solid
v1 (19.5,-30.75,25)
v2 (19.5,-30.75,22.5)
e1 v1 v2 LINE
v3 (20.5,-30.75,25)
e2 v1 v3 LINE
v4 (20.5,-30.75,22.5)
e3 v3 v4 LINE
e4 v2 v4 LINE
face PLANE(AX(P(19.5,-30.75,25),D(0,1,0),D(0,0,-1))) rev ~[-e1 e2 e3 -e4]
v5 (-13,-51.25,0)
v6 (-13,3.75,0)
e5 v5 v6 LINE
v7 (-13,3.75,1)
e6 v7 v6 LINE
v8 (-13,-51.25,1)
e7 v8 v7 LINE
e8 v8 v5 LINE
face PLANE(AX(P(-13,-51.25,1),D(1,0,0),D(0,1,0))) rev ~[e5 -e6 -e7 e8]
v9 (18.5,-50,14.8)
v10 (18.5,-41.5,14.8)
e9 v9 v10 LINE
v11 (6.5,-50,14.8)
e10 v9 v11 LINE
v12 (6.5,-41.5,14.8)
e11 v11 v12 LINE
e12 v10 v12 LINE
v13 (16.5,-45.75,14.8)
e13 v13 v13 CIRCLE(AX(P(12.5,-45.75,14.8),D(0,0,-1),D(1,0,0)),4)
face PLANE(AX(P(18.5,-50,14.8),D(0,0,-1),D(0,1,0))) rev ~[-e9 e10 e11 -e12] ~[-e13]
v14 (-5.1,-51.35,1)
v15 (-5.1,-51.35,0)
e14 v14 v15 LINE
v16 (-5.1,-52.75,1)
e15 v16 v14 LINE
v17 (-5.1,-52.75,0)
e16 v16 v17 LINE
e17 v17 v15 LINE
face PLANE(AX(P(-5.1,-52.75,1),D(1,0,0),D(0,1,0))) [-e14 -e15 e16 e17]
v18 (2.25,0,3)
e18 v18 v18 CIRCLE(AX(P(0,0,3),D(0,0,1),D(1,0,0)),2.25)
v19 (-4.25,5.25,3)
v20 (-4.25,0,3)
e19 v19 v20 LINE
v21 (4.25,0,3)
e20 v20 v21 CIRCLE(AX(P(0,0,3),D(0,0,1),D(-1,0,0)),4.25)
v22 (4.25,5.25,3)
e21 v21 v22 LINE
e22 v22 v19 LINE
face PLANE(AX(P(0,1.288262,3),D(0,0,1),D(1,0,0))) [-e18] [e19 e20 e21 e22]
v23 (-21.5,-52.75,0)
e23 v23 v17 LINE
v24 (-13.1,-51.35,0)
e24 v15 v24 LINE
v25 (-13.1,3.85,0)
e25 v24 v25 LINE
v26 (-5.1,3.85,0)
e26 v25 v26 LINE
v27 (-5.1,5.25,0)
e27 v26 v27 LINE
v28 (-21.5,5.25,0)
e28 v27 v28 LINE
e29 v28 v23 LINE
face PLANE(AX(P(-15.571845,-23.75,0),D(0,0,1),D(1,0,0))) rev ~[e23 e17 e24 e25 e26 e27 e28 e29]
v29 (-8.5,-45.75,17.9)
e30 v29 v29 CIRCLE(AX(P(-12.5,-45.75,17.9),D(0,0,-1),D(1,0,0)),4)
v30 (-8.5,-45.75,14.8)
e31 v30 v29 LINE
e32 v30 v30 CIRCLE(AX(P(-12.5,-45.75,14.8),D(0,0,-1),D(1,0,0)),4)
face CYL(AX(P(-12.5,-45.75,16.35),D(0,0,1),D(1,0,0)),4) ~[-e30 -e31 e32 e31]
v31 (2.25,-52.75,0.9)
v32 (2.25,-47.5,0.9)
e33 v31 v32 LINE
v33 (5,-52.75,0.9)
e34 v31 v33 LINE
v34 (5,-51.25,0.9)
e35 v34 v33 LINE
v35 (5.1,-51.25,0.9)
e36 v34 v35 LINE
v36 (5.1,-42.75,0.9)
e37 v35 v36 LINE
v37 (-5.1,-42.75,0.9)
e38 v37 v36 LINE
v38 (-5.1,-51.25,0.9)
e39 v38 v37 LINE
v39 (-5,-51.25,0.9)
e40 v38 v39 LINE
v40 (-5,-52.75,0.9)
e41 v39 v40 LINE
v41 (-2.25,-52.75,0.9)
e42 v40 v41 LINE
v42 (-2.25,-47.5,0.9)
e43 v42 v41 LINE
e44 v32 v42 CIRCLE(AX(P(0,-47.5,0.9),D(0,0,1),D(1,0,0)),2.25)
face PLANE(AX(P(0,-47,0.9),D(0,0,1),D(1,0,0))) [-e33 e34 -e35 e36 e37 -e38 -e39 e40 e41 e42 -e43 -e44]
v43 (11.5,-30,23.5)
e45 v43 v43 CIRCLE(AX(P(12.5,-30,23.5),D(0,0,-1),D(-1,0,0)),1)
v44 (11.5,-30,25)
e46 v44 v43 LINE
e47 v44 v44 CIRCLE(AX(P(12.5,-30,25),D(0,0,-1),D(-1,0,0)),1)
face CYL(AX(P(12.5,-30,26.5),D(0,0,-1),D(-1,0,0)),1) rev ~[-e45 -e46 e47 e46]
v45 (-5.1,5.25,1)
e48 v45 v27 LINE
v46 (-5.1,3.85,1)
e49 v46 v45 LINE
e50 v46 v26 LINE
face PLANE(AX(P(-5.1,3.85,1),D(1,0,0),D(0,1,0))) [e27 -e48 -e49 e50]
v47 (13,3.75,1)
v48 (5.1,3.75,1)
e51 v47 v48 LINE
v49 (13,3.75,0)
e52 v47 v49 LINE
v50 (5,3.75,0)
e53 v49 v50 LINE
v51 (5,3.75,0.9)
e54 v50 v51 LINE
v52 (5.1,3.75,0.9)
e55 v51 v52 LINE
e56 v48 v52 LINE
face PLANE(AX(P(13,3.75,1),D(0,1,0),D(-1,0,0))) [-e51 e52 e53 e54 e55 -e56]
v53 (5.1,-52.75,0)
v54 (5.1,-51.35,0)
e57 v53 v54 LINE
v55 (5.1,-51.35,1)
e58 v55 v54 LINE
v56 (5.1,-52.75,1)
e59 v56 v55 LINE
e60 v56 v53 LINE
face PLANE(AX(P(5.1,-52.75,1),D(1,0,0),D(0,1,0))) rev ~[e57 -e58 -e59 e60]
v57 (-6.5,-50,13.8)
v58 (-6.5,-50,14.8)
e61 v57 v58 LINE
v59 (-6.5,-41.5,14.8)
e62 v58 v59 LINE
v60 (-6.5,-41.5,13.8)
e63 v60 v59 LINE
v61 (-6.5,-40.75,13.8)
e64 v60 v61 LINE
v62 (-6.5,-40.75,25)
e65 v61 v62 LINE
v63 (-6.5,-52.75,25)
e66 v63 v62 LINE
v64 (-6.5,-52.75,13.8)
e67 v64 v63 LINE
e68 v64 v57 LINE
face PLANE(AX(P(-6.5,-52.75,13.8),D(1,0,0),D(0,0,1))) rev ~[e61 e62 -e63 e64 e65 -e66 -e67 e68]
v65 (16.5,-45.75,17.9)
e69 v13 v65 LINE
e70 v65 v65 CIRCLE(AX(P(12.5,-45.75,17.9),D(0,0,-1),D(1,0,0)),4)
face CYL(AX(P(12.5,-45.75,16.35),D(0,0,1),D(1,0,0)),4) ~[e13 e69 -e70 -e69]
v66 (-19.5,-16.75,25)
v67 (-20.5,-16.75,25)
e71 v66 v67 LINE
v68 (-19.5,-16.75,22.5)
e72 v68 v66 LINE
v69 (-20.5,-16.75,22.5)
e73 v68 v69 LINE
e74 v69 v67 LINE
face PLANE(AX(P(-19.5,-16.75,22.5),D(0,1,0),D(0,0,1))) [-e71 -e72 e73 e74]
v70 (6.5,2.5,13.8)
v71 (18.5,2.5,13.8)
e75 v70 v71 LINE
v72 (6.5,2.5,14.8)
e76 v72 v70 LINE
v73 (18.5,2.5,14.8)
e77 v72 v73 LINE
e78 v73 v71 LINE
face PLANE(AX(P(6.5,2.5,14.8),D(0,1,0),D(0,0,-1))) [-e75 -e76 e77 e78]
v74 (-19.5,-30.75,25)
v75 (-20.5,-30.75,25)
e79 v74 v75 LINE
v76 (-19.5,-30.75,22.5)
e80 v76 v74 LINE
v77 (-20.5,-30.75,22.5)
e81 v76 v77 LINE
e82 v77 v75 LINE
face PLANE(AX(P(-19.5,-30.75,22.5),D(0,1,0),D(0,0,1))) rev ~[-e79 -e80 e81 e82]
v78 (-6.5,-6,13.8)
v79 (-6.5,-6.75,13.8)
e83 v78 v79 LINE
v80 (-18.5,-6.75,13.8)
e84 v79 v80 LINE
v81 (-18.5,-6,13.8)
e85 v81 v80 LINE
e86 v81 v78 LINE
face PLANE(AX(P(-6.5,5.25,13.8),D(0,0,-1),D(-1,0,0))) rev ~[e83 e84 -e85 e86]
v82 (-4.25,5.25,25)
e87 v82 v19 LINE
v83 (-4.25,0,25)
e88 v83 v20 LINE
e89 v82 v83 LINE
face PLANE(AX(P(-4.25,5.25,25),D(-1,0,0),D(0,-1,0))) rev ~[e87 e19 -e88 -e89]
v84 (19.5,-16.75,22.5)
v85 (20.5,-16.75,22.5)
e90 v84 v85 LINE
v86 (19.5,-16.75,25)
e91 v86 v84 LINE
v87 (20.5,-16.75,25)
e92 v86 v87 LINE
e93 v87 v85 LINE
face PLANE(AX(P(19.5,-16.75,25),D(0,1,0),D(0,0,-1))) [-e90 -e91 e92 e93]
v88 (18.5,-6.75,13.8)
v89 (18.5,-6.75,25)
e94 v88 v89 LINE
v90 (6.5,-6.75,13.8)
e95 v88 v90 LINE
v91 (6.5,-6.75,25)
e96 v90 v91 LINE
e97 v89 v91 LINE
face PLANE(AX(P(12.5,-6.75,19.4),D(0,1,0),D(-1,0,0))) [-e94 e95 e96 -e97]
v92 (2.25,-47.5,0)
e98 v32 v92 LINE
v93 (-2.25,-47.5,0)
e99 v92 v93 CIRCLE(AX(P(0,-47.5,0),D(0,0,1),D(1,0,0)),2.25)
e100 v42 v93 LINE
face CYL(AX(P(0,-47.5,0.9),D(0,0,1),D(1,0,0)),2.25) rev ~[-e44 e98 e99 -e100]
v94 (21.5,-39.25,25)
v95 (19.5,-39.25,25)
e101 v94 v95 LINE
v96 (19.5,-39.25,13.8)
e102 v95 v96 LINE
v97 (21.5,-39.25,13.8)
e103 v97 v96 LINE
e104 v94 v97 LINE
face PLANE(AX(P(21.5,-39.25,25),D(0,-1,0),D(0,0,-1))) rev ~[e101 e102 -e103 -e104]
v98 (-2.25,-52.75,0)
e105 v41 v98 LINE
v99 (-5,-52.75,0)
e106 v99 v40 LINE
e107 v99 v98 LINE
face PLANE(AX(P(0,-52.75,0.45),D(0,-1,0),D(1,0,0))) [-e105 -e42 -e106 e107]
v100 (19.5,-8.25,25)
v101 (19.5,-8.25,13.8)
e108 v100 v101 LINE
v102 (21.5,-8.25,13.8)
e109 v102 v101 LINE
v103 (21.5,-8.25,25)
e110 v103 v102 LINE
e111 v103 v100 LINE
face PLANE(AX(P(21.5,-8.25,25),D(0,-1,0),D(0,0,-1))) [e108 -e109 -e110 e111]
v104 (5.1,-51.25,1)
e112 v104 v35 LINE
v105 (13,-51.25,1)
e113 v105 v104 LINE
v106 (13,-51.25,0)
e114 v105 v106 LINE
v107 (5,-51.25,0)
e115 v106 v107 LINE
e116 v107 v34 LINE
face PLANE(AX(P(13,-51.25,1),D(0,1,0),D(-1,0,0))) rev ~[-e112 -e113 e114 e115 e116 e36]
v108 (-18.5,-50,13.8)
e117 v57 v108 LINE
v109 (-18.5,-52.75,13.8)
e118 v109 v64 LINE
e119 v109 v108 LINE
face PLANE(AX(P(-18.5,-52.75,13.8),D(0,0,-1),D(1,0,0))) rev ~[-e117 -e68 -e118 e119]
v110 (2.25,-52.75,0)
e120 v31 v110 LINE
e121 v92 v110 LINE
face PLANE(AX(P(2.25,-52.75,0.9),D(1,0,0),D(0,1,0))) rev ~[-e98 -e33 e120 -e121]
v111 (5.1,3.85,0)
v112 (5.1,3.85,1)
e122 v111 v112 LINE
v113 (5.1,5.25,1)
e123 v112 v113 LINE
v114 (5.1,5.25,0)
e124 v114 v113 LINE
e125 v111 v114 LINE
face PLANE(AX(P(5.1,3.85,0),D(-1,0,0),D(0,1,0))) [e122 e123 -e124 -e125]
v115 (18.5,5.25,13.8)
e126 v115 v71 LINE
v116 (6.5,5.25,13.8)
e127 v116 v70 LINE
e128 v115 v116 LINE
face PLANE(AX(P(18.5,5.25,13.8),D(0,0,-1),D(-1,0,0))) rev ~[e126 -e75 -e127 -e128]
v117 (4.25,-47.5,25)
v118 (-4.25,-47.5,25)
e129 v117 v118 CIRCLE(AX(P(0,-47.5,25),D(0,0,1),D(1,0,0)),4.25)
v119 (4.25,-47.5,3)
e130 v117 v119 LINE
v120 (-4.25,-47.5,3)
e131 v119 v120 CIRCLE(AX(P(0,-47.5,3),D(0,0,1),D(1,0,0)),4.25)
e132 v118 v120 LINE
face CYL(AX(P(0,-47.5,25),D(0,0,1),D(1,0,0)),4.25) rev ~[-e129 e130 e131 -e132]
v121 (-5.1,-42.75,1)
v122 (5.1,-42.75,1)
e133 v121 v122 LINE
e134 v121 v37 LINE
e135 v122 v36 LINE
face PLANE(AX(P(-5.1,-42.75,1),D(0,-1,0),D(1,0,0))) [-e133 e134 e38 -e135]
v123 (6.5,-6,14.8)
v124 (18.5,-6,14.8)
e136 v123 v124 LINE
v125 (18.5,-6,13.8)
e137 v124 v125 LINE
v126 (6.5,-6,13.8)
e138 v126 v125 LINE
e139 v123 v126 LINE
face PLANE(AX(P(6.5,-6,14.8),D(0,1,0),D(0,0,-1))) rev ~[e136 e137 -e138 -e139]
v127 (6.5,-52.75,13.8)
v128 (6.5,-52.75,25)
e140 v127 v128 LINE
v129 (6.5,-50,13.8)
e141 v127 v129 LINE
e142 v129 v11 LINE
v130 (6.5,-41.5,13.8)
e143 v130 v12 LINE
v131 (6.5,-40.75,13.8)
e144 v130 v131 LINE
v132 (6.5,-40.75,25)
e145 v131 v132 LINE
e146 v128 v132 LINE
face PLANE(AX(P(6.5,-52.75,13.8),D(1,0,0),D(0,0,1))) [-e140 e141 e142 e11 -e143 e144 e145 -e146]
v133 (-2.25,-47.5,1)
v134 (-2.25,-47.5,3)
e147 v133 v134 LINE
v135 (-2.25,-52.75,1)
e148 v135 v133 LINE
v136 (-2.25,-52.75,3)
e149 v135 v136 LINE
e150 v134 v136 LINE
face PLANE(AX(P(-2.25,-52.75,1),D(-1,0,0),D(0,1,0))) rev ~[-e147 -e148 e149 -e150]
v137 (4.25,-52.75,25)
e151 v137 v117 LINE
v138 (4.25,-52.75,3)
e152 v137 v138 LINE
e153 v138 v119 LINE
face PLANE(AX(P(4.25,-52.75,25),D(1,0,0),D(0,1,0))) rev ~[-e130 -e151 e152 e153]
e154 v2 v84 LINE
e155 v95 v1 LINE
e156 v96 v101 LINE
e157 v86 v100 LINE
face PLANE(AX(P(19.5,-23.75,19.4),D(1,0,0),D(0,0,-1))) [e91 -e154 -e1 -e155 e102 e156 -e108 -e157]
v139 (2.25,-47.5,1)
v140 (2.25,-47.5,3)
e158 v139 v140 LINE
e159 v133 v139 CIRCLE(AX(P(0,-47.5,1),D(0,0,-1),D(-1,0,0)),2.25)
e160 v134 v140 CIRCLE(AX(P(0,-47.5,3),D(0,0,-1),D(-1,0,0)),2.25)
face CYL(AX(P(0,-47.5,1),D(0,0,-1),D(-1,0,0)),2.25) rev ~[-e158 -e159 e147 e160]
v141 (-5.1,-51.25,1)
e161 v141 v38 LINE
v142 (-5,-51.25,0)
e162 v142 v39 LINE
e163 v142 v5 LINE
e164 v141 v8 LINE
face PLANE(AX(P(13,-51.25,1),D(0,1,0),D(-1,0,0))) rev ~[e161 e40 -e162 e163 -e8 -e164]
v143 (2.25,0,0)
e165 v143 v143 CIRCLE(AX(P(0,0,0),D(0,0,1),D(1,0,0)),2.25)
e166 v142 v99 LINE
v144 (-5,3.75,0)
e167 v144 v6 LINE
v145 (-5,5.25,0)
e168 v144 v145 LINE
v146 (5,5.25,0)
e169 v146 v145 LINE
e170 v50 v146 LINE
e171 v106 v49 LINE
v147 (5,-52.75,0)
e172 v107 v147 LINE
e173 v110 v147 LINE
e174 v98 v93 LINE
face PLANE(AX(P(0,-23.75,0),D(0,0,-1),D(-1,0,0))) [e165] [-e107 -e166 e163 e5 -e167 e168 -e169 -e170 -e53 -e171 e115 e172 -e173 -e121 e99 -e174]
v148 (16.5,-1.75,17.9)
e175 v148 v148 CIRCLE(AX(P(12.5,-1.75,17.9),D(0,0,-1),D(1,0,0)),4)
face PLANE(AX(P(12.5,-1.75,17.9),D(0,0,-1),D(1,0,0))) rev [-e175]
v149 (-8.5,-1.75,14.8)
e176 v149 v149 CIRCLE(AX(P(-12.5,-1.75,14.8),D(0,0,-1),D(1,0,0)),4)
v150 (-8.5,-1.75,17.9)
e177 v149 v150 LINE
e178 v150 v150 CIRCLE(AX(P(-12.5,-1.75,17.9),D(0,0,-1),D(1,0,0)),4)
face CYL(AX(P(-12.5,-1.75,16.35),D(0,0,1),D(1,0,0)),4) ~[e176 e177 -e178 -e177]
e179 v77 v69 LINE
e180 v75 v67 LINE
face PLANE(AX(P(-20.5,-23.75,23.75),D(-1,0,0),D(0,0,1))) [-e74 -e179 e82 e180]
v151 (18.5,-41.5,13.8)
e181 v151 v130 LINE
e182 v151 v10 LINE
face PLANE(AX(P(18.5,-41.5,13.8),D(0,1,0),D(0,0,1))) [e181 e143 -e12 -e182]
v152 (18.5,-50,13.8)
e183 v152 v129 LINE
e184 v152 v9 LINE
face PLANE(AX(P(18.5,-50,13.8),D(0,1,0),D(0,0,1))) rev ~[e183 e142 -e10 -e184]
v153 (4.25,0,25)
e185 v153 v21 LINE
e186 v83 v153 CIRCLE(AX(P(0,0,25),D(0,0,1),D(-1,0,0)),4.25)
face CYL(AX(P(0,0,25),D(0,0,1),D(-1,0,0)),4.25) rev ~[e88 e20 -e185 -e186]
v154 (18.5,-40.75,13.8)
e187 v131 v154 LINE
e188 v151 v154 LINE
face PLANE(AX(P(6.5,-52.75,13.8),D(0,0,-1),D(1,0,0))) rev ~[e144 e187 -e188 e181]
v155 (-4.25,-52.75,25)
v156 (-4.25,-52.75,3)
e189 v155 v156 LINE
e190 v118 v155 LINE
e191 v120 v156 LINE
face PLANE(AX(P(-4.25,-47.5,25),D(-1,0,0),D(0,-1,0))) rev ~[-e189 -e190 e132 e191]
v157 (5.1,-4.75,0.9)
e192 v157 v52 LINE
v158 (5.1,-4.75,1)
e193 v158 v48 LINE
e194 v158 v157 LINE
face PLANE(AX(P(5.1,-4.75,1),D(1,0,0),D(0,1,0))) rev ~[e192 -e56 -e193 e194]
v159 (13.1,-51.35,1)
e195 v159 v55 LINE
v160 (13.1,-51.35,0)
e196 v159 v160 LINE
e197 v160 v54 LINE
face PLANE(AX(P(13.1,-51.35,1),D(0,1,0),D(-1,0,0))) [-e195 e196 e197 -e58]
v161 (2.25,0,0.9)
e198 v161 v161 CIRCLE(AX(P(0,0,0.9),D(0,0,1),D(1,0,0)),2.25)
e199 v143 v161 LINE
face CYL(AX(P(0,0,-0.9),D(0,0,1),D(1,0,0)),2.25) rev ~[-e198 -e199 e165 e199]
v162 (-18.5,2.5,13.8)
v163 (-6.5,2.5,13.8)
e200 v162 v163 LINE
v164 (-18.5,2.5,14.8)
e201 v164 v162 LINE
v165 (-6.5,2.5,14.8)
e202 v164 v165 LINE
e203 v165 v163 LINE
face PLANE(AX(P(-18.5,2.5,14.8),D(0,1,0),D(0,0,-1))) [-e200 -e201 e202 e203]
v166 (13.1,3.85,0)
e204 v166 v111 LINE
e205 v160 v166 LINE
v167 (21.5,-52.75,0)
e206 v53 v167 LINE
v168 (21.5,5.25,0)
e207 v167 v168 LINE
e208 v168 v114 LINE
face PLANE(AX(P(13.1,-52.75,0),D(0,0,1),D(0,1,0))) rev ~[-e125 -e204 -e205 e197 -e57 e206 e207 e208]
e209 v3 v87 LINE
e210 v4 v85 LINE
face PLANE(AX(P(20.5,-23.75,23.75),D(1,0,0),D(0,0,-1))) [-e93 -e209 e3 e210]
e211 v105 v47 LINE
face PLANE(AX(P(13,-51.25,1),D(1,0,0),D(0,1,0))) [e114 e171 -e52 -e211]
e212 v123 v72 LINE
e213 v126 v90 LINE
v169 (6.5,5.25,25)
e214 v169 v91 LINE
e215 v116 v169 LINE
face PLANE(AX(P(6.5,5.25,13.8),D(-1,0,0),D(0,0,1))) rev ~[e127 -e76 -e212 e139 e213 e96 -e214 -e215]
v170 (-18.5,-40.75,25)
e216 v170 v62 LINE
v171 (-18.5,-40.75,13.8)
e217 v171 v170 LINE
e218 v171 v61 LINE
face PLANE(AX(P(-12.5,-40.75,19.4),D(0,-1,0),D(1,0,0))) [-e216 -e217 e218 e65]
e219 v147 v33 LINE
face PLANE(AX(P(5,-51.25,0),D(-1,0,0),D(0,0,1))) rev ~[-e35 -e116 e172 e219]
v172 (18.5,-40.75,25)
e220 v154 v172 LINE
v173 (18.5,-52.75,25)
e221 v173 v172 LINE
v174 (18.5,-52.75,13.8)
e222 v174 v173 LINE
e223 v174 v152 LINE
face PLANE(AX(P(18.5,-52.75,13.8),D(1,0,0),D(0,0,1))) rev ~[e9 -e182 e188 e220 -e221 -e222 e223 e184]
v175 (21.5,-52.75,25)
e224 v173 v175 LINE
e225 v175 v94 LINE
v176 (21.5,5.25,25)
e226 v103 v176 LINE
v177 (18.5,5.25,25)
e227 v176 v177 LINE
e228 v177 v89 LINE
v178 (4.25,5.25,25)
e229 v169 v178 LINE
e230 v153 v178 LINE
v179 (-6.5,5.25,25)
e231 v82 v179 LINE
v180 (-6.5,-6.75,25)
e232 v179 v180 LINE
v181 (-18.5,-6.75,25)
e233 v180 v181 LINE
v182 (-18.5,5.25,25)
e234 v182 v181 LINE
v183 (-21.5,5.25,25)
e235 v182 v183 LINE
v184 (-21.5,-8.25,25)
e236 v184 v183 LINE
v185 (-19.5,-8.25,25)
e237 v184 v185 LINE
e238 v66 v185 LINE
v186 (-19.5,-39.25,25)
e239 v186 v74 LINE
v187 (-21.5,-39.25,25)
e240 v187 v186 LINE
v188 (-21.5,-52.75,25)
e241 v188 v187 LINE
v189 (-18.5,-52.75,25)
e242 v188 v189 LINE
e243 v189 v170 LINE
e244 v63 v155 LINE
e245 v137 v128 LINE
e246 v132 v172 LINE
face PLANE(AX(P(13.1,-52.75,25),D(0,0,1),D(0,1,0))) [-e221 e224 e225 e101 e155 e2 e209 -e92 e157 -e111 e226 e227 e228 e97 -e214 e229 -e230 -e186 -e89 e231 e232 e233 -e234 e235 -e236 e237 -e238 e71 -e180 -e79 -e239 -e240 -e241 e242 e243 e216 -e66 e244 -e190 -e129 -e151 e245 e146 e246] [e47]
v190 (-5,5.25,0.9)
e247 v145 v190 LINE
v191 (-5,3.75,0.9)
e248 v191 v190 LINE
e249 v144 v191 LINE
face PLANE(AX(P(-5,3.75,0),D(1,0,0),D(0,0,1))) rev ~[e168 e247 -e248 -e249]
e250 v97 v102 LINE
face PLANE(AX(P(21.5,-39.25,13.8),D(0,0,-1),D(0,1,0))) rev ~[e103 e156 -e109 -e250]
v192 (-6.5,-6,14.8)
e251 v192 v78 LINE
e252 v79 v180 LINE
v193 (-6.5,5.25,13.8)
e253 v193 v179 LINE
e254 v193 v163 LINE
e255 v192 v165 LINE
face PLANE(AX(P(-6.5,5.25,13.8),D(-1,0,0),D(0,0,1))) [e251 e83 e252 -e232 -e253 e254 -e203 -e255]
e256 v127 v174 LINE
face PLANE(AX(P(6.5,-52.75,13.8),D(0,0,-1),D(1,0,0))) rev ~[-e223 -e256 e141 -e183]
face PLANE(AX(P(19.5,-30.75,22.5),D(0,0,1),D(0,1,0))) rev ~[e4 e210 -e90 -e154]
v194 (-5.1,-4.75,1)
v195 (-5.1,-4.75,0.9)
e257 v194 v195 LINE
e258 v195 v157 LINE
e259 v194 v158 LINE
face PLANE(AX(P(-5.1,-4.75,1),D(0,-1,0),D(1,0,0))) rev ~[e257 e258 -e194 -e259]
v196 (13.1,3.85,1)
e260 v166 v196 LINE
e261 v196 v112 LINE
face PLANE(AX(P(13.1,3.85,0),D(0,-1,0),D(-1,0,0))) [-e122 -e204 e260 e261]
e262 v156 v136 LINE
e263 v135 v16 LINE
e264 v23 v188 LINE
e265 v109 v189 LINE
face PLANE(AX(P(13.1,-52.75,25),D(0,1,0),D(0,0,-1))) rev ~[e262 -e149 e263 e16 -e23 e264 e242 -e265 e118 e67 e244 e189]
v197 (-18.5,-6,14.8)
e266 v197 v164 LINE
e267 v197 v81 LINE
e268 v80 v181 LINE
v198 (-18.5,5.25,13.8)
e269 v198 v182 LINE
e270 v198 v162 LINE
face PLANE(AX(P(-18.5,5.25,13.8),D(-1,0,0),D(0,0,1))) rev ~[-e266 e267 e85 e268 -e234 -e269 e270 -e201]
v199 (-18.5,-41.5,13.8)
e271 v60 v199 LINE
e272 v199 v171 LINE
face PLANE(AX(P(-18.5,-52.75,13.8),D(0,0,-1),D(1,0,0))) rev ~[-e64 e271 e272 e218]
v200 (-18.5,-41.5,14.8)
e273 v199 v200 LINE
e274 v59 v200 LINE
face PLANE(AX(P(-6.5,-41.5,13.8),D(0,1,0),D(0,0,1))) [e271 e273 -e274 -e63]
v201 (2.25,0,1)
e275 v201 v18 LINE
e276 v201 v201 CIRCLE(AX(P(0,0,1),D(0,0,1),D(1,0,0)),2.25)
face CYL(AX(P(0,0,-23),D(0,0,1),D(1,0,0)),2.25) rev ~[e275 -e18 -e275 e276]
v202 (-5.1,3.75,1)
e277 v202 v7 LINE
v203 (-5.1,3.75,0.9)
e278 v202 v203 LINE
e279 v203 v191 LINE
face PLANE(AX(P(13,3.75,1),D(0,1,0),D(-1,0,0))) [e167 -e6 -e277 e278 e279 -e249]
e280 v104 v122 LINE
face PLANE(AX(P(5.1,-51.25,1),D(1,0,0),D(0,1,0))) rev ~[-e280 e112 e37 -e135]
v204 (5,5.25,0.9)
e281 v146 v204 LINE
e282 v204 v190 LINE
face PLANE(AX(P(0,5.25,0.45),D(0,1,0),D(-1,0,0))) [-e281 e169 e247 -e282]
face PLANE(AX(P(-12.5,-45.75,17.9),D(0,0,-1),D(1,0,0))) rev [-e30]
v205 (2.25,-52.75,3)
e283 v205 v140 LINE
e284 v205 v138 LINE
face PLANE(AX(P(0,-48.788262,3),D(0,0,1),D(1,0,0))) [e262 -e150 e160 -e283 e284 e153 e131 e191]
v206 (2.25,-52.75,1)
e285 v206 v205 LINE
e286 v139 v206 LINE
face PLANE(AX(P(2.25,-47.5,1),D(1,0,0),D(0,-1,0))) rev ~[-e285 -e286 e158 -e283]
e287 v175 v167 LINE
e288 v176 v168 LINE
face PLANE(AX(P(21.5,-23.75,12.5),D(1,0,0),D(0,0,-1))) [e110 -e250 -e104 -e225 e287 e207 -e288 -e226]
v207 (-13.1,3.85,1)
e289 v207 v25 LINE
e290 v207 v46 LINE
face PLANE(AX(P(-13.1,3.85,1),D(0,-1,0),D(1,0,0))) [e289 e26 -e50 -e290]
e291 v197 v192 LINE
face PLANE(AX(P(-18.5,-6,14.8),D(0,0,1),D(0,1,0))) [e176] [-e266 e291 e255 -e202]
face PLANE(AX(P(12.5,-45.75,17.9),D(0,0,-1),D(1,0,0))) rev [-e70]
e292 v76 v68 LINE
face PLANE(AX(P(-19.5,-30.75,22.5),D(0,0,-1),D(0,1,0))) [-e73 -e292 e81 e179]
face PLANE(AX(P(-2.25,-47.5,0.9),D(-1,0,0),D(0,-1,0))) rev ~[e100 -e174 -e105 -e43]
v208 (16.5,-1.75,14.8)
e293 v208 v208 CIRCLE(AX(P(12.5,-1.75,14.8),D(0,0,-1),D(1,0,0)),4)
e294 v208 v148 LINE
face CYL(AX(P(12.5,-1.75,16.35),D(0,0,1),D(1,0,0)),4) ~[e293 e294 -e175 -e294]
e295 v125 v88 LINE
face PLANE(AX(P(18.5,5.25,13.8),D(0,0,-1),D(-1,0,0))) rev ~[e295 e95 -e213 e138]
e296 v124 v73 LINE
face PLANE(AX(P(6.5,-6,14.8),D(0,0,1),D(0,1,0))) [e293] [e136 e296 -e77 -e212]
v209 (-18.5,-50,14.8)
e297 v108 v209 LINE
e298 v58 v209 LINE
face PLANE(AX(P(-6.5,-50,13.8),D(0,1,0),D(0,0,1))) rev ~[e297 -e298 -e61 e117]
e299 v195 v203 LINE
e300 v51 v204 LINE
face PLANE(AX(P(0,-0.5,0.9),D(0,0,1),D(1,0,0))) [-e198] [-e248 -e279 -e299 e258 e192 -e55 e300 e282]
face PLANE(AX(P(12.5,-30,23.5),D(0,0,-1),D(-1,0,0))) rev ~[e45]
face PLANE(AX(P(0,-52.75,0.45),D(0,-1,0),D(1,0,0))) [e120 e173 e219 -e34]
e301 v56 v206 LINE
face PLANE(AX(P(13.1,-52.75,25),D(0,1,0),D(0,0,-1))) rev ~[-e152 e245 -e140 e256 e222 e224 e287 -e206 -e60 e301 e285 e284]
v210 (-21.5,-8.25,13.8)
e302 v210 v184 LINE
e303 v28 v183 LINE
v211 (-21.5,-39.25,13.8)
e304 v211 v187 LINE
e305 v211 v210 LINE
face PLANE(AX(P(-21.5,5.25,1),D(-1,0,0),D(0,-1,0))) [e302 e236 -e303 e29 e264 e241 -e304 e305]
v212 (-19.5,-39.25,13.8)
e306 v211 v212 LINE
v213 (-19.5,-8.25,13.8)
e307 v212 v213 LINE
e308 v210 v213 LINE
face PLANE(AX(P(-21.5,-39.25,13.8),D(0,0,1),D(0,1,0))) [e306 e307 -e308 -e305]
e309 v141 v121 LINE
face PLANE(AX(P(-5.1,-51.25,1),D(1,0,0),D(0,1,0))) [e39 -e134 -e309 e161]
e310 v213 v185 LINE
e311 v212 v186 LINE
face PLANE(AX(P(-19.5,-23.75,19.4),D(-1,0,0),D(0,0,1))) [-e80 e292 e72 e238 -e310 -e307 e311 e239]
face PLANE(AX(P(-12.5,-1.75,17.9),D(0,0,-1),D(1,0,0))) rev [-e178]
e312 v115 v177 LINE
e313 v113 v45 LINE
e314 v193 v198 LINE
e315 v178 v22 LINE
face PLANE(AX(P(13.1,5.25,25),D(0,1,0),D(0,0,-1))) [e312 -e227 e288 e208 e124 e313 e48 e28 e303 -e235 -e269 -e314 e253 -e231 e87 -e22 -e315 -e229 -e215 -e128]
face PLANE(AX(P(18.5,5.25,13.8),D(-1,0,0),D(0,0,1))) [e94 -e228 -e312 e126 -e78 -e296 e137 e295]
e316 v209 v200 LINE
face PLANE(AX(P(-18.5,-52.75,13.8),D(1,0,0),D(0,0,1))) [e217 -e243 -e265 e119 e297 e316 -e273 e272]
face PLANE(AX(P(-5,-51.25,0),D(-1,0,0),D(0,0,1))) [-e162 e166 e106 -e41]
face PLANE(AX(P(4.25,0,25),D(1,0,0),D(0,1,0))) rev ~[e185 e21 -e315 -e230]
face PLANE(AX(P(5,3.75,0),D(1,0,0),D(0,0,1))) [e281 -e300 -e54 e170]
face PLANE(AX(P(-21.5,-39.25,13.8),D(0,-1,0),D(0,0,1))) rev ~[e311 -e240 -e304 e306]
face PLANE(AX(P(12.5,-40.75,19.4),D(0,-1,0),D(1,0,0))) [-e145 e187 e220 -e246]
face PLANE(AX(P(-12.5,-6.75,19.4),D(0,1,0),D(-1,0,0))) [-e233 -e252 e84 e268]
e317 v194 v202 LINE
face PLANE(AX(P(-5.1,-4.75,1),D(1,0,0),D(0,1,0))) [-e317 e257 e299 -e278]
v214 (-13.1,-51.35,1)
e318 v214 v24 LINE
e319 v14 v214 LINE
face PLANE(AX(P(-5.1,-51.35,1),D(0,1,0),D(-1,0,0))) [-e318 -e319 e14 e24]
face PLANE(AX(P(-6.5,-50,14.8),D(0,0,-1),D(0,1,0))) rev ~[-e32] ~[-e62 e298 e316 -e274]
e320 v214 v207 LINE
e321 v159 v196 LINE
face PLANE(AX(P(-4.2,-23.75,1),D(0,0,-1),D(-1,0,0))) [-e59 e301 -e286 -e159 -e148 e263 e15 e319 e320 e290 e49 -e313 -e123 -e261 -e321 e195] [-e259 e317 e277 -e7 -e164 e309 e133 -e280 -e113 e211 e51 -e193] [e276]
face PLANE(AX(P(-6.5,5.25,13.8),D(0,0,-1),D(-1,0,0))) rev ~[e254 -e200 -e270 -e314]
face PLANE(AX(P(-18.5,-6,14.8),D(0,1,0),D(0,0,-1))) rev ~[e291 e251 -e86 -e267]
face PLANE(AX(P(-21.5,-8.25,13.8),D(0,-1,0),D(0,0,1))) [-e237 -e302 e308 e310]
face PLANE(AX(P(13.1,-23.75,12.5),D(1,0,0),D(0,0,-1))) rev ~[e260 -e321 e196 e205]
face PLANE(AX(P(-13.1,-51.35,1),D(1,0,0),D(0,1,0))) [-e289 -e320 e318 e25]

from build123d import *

# Parameters (mm, degrees)
SKETCH1_W                      = 8
SKETCH1_H                      = 1.4
BOSS_EXTRUDE1_DEPTH            = 1
SKETCH2_W                      = 34.6
SKETCH2_H                      = 58
BOSS_EXTRUDE2_DEPTH            = 24
SKETCH3_W                      = 26
SKETCH3_H                      = 55
BOSS_EXTRUDE3_DEPTH            = 1
BOSS_EXTRUDE4_DEPTH            = 1
SKETCH5_W                      = 8
SKETCH5_H                      = 1.4
BOSS_EXTRUDE5_DEPTH            = 1
SKETCH6_W                      = 10.2
SKETCH6_H                      = 8.5
CUT_EXTRUDE1_DEPTH             = 0.1
SKETCH7_W                      = 10.2
SKETCH7_H                      = 8.5
CUT_EXTRUDE2_DEPTH             = 0.1
SKETCH8_W                      = 25
SKETCH8_H                      = 58
BOSS_EXTRUDE6_DEPTH            = 8.4
SKETCH9_W                      = 10
SKETCH9_H                      = 0.9
BOSS_EXTRUDE7_DEPTH            = 1.5
SKETCH10_W                     = 10
SKETCH10_H                     = 0.9
BOSS_EXTRUDE8_DEPTH            = 1.5
SKETCH11_W                     = 12
SKETCH11_H                     = 11.2
CUT_EXTRUDE3_DEPTH             = 12
SKETCH12_W                     = 1
SKETCH12_H                     = 8.5
BOSS_EXTRUDE9_DEPTH            = 12
SKETCH13_W                     = 12
SKETCH13_H                     = 11.2
CUT_EXTRUDE4_DEPTH             = 12
SKETCH14_W                     = 1
SKETCH14_H                     = 8.5
BOSS_EXTRUDE10_DEPTH           = 12
SKETCH15_W                     = 12
SKETCH15_H                     = 11.2
CUT_EXTRUDE5_DEPTH             = 12
SKETCH16_W                     = 1
SKETCH16_H                     = 8.5
BOSS_EXTRUDE11_DEPTH           = 12
SKETCH17_W                     = 12
SKETCH17_H                     = 11.2
CUT_EXTRUDE6_DEPTH             = 12
SKETCH18_W                     = 1
SKETCH18_H                     = 8.5
BOSS_EXTRUDE12_DEPTH           = 12
CUT_EXTRUDE7_DEPTH             = 22
CUT_EXTRUDE8_DEPTH             = 25
CUT_EXTRUDE9_DEPTH             = 1.9
SKETCH22_W                     = 11.2
SKETCH22_H                     = 31
CUT_EXTRUDE10_DEPTH            = 2
SKETCH23_W                     = 2.5
SKETCH23_H                     = 14
BOSS_EXTRUDE13_DEPTH           = 1
SKETCH24_W                     = 11.2
SKETCH24_H                     = 31
CUT_EXTRUDE11_DEPTH            = 2
SKETCH25_W                     = 2.5
SKETCH25_H                     = 14
BOSS_EXTRUDE14_DEPTH           = 1
CUT_EXTRUDE12_DEPTH            = 22
SKETCH27_W                     = 4
SKETCH27_H                     = 3.1
SKETCH28_W                     = 4
SKETCH28_H                     = 3.1
SKETCH29_W                     = 4
SKETCH29_H                     = 3.1
SKETCH30_W                     = 4
SKETCH30_H                     = 3.1
F_2_0_2_DIAMETER_HOLE1_D       = 2
F_2_0_2_DIAMETER_HOLE1_DEPTH   = 1.5
F_4_5_4_5_DIAMETER_HOLE1_D     = 4.5
F_4_5_4_5_DIAMETER_HOLE1_DEPTH = 0.9
F_4_5_4_5_DIAMETER_HOLE2_D     = 4.5
F_4_5_4_5_DIAMETER_HOLE2_DEPTH = 24


with BuildPart() as part:
    # Sketch1 → Boss-Extrude1 (new body)
    with BuildSketch(Plane(origin=(0, 0, 0), x_dir=(-1, 0, 0), z_dir=(0, 0, -1))):
        with Locations((-9.1, 4.55)):
            Rectangle(SKETCH1_W, SKETCH1_H)
    extrude(amount=-BOSS_EXTRUDE1_DEPTH)

    # Sketch2 → Boss-Extrude2 (add)
    with BuildSketch(Plane(origin=(0, 0, 1), x_dir=(-1, 0, 0), z_dir=(0, 0, -1))):
        with Locations((4.2, -23.75)):
            Rectangle(SKETCH2_W, SKETCH2_H)
    extrude(amount=-BOSS_EXTRUDE2_DEPTH)

    # Sketch3 → Boss-Extrude3 (add)
    with BuildSketch(Plane(origin=(0, 0, 1), x_dir=(-1, 0, 0), z_dir=(0, 0, -1))):
        with Locations((0, -23.75)):
            Rectangle(SKETCH3_W, SKETCH3_H)
    extrude(amount=BOSS_EXTRUDE3_DEPTH)

    # Sketch4 → Boss-Extrude4 (add)
    with BuildSketch(Plane(origin=(0, 0, 1), x_dir=(-1, 0, 0), z_dir=(0, 0, -1))):
        Polygon((5.1, 5.25), (21.5, 5.25), (21.5, -52.75), (5.1, -52.75), (5.1, -51.35), (13.1, -51.35), (13.1, 3.85), (5.1, 3.85), align=None)
    extrude(amount=BOSS_EXTRUDE4_DEPTH)

    # Sketch5 → Boss-Extrude5 (add)
    with BuildSketch(Plane(origin=(0, 0, 1), x_dir=(-1, 0, 0), z_dir=(0, 0, -1))):
        with Locations((-9.1, -52.05)):
            Rectangle(SKETCH5_W, SKETCH5_H)
    extrude(amount=BOSS_EXTRUDE5_DEPTH)

    # Sketch6 → Cut-Extrude1 (cut)
    with BuildSketch(Plane.XY.offset(1)):
        with Locations((0, -0.5)):
            Rectangle(SKETCH6_W, SKETCH6_H)
    extrude(amount=-CUT_EXTRUDE1_DEPTH, mode=Mode.SUBTRACT)

    # Sketch7 → Cut-Extrude2 (cut)
    with BuildSketch(Plane.XY.offset(1)):
        with Locations((0, -47)):
            Rectangle(SKETCH7_W, SKETCH7_H)
    extrude(amount=-CUT_EXTRUDE2_DEPTH, mode=Mode.SUBTRACT)

    # Sketch8 → Boss-Extrude6 (add)
    with BuildSketch(Plane(origin=(13.1, 0, 0), x_dir=(0, 0, -1), z_dir=(1, 0, 0))):
        with Locations((-12.5, -23.75)):
            Rectangle(SKETCH8_W, SKETCH8_H)
    extrude(amount=BOSS_EXTRUDE6_DEPTH)

    # Sketch9 → Boss-Extrude7 (add)
    with BuildSketch(Plane.XZ.offset(51.25)):
        with Locations((0, 0.45)):
            Rectangle(SKETCH9_W, SKETCH9_H)
    extrude(amount=BOSS_EXTRUDE7_DEPTH)

    # Sketch10 → Boss-Extrude8 (add)
    with BuildSketch(Plane(origin=(0, 3.75, 0), x_dir=(-1, 0, 0), z_dir=(0, 1, 0))):
        with Locations((0, 0.45)):
            Rectangle(SKETCH10_W, SKETCH10_H)
    extrude(amount=BOSS_EXTRUDE8_DEPTH)

    # Sketch11 → Cut-Extrude3 (cut)
    with BuildSketch(Plane(origin=(0, 5.25, 0), x_dir=(-1, 0, 0), z_dir=(0, 1, 0))):
        with Locations((-12.5, 19.4)):
            Rectangle(SKETCH11_W, SKETCH11_H)
    extrude(amount=-CUT_EXTRUDE3_DEPTH, mode=Mode.SUBTRACT)

    # Sketch12 → Boss-Extrude9 (add)
    with BuildSketch(Plane(origin=(6.5, 0, 0), x_dir=(0, 0, -1), z_dir=(1, 0, 0))):
        with Locations((-14.3, -1.75)):
            Rectangle(SKETCH12_W, SKETCH12_H)
    extrude(amount=BOSS_EXTRUDE9_DEPTH)

    # Sketch13 → Cut-Extrude4 (cut)
    with BuildSketch(Plane(origin=(0, 5.25, 0), x_dir=(-1, 0, 0), z_dir=(0, 1, 0))):
        with Locations((12.5, 19.4)):
            Rectangle(SKETCH13_W, SKETCH13_H)
    extrude(amount=-CUT_EXTRUDE4_DEPTH, mode=Mode.SUBTRACT)

    # Sketch14 → Boss-Extrude10 (add)
    with BuildSketch(Plane(origin=(-18.5, 0, 0), x_dir=(0, 0, -1), z_dir=(1, 0, 0))):
        with Locations((-14.3, -1.75)):
            Rectangle(SKETCH14_W, SKETCH14_H)
    extrude(amount=BOSS_EXTRUDE10_DEPTH)

    # Sketch15 → Cut-Extrude5 (cut)
    with BuildSketch(Plane.XZ.offset(52.75)):
        with Locations((12.5, 19.4)):
            Rectangle(SKETCH15_W, SKETCH15_H)
    extrude(amount=-CUT_EXTRUDE5_DEPTH, mode=Mode.SUBTRACT)

    # Sketch16 → Boss-Extrude11 (add)
    with BuildSketch(Plane.ZY.offset(-18.5)):
        with Locations((14.3, -45.75)):
            Rectangle(SKETCH16_W, SKETCH16_H)
    extrude(amount=BOSS_EXTRUDE11_DEPTH)

    # Sketch17 → Cut-Extrude6 (cut)
    with BuildSketch(Plane.XZ.offset(52.75)):
        with Locations((-12.5, 19.4)):
            Rectangle(SKETCH17_W, SKETCH17_H)
    extrude(amount=-CUT_EXTRUDE6_DEPTH, mode=Mode.SUBTRACT)

    # Sketch18 → Boss-Extrude12 (add)
    with BuildSketch(Plane.ZY.offset(6.5)):
        with Locations((14.3, -45.75)):
            Rectangle(SKETCH18_W, SKETCH18_H)
    extrude(amount=BOSS_EXTRUDE12_DEPTH)

    # Sketch19 → Cut-Extrude7 (cut)
    with BuildSketch(Plane.XY.offset(25)):
        with BuildLine():
            Line((4.25, -52.75), (4.25, -47.5))
            ThreePointArc((4.25, -47.5), (0, -43.25), (-4.25, -47.5))
            Line((-4.25, -47.5), (-4.25, -52.75))
            Line((-4.25, -52.75), (4.25, -52.75))
        make_face()
    extrude(amount=-CUT_EXTRUDE7_DEPTH, mode=Mode.SUBTRACT)

    # Sketch20 → Cut-Extrude8 (cut, through all)
    with BuildSketch(Plane(origin=(0, 0, 1), x_dir=(-1, 0, 0), z_dir=(0, 0, -1))):
        with BuildLine():
            Line((-2.25, -52.75), (2.25, -52.75))
            Line((2.25, -52.75), (2.25, -47.5))
            ThreePointArc((2.25, -47.5), (0, -45.25), (-2.25, -47.5))
            Line((-2.25, -47.5), (-2.25, -52.75))
        make_face()
    extrude(amount=-CUT_EXTRUDE8_DEPTH, mode=Mode.SUBTRACT)

    # Sketch21 → Cut-Extrude9 (cut, through all)
    with BuildSketch(Plane.XY.offset(0.9)):
        with BuildLine():
            Line((-2.25, -52.75), (2.25, -52.75))
            Line((2.25, -52.75), (2.25, -47.5))
            ThreePointArc((2.25, -47.5), (0, -45.25), (-2.25, -47.5))
            Line((-2.25, -47.5), (-2.25, -52.75))
        make_face()
    extrude(amount=-CUT_EXTRUDE9_DEPTH, mode=Mode.SUBTRACT)

    # Sketch22 → Cut-Extrude10 (cut)
    with BuildSketch(Plane(origin=(21.5, 0, 0), x_dir=(0, 0, -1), z_dir=(1, 0, 0))):
        with Locations((-19.4, -23.75)):
            Rectangle(SKETCH22_W, SKETCH22_H)
    extrude(amount=-CUT_EXTRUDE10_DEPTH, mode=Mode.SUBTRACT)

    # Sketch23 → Boss-Extrude13 (add)
    with BuildSketch(Plane(origin=(19.5, 0, 0), x_dir=(0, 0, -1), z_dir=(1, 0, 0))):
        with Locations((-23.75, -23.75)):
            Rectangle(SKETCH23_W, SKETCH23_H)
    extrude(amount=BOSS_EXTRUDE13_DEPTH)

    # Sketch24 → Cut-Extrude11 (cut)
    with BuildSketch(Plane.ZY.offset(21.5)):
        with Locations((19.4, -23.75)):
            Rectangle(SKETCH24_W, SKETCH24_H)
    extrude(amount=-CUT_EXTRUDE11_DEPTH, mode=Mode.SUBTRACT)

    # Sketch25 → Boss-Extrude14 (add)
    with BuildSketch(Plane.ZY.offset(19.5)):
        with Locations((23.75, -23.75)):
            Rectangle(SKETCH25_W, SKETCH25_H)
    extrude(amount=BOSS_EXTRUDE14_DEPTH)

    # Sketch26 → Cut-Extrude12 (cut)
    with BuildSketch(Plane.XY.offset(25)):
        with BuildLine():
            Line((-4.25, 5.25), (-4.25, 0))
            ThreePointArc((-4.25, 0), (0, -4.25), (4.25, 0))
            Line((4.25, 0), (4.25, 5.25))
            Line((4.25, 5.25), (-4.25, 5.25))
        make_face()
    extrude(amount=-CUT_EXTRUDE12_DEPTH, mode=Mode.SUBTRACT)

    # Sketch27 → Revolve1 (revolve)
    with BuildSketch(Plane.XZ.offset(45.75)):
        with Locations((14.5, 16.35)):
            Rectangle(SKETCH27_W, SKETCH27_H)
    revolve(axis=Axis((12.5, -45.75, 17.9), (0, 0, -1)))

    # Sketch28 → Revolve2 (revolve)
    with BuildSketch(Plane.XZ.offset(1.75)):
        with Locations((14.5, 16.35)):
            Rectangle(SKETCH28_W, SKETCH28_H)
    revolve(axis=Axis((12.5, -1.75, 17.9), (0, 0, -1)))

    # Sketch29 → Revolve3 (revolve)
    with BuildSketch(Plane.XZ.offset(45.75)):
        with Locations((-10.5, 16.35)):
            Rectangle(SKETCH29_W, SKETCH29_H)
    revolve(axis=Axis((-12.5, -45.75, 17.9), (0, 0, -1)))

    # Sketch30 → Revolve4 (revolve)
    with BuildSketch(Plane.XZ.offset(1.75)):
        with Locations((-10.5, 16.35)):
            Rectangle(SKETCH30_W, SKETCH30_H)
    revolve(axis=Axis((-12.5, -1.75, 17.9), (0, 0, -1)))

    # Ø2.0 (2) Diameter Hole1
    with Locations(Plane.XY.offset(25)):
        with Locations((12.5, -30)):
            Hole(F_2_0_2_DIAMETER_HOLE1_D / 2, depth=F_2_0_2_DIAMETER_HOLE1_DEPTH)

    # Ø4.5 (4.5) Diameter Hole1
    with Locations(Plane(origin=(0, 0, 0), x_dir=(-1, 0, 0), z_dir=(0, 0, -1))):
        with Locations((0, 0)):
            Hole(F_4_5_4_5_DIAMETER_HOLE1_D / 2, depth=F_4_5_4_5_DIAMETER_HOLE1_DEPTH)

    # Ø4.5 (4.5) Diameter Hole2
    with Locations(Plane(origin=(0, 0, 1), x_dir=(-1, 0, 0), z_dir=(0, 0, -1))):
        with Locations((0, 0)):
            Hole(F_4_5_4_5_DIAMETER_HOLE2_D / 2, depth=F_4_5_4_5_DIAMETER_HOLE2_DEPTH)


solid = part.part
